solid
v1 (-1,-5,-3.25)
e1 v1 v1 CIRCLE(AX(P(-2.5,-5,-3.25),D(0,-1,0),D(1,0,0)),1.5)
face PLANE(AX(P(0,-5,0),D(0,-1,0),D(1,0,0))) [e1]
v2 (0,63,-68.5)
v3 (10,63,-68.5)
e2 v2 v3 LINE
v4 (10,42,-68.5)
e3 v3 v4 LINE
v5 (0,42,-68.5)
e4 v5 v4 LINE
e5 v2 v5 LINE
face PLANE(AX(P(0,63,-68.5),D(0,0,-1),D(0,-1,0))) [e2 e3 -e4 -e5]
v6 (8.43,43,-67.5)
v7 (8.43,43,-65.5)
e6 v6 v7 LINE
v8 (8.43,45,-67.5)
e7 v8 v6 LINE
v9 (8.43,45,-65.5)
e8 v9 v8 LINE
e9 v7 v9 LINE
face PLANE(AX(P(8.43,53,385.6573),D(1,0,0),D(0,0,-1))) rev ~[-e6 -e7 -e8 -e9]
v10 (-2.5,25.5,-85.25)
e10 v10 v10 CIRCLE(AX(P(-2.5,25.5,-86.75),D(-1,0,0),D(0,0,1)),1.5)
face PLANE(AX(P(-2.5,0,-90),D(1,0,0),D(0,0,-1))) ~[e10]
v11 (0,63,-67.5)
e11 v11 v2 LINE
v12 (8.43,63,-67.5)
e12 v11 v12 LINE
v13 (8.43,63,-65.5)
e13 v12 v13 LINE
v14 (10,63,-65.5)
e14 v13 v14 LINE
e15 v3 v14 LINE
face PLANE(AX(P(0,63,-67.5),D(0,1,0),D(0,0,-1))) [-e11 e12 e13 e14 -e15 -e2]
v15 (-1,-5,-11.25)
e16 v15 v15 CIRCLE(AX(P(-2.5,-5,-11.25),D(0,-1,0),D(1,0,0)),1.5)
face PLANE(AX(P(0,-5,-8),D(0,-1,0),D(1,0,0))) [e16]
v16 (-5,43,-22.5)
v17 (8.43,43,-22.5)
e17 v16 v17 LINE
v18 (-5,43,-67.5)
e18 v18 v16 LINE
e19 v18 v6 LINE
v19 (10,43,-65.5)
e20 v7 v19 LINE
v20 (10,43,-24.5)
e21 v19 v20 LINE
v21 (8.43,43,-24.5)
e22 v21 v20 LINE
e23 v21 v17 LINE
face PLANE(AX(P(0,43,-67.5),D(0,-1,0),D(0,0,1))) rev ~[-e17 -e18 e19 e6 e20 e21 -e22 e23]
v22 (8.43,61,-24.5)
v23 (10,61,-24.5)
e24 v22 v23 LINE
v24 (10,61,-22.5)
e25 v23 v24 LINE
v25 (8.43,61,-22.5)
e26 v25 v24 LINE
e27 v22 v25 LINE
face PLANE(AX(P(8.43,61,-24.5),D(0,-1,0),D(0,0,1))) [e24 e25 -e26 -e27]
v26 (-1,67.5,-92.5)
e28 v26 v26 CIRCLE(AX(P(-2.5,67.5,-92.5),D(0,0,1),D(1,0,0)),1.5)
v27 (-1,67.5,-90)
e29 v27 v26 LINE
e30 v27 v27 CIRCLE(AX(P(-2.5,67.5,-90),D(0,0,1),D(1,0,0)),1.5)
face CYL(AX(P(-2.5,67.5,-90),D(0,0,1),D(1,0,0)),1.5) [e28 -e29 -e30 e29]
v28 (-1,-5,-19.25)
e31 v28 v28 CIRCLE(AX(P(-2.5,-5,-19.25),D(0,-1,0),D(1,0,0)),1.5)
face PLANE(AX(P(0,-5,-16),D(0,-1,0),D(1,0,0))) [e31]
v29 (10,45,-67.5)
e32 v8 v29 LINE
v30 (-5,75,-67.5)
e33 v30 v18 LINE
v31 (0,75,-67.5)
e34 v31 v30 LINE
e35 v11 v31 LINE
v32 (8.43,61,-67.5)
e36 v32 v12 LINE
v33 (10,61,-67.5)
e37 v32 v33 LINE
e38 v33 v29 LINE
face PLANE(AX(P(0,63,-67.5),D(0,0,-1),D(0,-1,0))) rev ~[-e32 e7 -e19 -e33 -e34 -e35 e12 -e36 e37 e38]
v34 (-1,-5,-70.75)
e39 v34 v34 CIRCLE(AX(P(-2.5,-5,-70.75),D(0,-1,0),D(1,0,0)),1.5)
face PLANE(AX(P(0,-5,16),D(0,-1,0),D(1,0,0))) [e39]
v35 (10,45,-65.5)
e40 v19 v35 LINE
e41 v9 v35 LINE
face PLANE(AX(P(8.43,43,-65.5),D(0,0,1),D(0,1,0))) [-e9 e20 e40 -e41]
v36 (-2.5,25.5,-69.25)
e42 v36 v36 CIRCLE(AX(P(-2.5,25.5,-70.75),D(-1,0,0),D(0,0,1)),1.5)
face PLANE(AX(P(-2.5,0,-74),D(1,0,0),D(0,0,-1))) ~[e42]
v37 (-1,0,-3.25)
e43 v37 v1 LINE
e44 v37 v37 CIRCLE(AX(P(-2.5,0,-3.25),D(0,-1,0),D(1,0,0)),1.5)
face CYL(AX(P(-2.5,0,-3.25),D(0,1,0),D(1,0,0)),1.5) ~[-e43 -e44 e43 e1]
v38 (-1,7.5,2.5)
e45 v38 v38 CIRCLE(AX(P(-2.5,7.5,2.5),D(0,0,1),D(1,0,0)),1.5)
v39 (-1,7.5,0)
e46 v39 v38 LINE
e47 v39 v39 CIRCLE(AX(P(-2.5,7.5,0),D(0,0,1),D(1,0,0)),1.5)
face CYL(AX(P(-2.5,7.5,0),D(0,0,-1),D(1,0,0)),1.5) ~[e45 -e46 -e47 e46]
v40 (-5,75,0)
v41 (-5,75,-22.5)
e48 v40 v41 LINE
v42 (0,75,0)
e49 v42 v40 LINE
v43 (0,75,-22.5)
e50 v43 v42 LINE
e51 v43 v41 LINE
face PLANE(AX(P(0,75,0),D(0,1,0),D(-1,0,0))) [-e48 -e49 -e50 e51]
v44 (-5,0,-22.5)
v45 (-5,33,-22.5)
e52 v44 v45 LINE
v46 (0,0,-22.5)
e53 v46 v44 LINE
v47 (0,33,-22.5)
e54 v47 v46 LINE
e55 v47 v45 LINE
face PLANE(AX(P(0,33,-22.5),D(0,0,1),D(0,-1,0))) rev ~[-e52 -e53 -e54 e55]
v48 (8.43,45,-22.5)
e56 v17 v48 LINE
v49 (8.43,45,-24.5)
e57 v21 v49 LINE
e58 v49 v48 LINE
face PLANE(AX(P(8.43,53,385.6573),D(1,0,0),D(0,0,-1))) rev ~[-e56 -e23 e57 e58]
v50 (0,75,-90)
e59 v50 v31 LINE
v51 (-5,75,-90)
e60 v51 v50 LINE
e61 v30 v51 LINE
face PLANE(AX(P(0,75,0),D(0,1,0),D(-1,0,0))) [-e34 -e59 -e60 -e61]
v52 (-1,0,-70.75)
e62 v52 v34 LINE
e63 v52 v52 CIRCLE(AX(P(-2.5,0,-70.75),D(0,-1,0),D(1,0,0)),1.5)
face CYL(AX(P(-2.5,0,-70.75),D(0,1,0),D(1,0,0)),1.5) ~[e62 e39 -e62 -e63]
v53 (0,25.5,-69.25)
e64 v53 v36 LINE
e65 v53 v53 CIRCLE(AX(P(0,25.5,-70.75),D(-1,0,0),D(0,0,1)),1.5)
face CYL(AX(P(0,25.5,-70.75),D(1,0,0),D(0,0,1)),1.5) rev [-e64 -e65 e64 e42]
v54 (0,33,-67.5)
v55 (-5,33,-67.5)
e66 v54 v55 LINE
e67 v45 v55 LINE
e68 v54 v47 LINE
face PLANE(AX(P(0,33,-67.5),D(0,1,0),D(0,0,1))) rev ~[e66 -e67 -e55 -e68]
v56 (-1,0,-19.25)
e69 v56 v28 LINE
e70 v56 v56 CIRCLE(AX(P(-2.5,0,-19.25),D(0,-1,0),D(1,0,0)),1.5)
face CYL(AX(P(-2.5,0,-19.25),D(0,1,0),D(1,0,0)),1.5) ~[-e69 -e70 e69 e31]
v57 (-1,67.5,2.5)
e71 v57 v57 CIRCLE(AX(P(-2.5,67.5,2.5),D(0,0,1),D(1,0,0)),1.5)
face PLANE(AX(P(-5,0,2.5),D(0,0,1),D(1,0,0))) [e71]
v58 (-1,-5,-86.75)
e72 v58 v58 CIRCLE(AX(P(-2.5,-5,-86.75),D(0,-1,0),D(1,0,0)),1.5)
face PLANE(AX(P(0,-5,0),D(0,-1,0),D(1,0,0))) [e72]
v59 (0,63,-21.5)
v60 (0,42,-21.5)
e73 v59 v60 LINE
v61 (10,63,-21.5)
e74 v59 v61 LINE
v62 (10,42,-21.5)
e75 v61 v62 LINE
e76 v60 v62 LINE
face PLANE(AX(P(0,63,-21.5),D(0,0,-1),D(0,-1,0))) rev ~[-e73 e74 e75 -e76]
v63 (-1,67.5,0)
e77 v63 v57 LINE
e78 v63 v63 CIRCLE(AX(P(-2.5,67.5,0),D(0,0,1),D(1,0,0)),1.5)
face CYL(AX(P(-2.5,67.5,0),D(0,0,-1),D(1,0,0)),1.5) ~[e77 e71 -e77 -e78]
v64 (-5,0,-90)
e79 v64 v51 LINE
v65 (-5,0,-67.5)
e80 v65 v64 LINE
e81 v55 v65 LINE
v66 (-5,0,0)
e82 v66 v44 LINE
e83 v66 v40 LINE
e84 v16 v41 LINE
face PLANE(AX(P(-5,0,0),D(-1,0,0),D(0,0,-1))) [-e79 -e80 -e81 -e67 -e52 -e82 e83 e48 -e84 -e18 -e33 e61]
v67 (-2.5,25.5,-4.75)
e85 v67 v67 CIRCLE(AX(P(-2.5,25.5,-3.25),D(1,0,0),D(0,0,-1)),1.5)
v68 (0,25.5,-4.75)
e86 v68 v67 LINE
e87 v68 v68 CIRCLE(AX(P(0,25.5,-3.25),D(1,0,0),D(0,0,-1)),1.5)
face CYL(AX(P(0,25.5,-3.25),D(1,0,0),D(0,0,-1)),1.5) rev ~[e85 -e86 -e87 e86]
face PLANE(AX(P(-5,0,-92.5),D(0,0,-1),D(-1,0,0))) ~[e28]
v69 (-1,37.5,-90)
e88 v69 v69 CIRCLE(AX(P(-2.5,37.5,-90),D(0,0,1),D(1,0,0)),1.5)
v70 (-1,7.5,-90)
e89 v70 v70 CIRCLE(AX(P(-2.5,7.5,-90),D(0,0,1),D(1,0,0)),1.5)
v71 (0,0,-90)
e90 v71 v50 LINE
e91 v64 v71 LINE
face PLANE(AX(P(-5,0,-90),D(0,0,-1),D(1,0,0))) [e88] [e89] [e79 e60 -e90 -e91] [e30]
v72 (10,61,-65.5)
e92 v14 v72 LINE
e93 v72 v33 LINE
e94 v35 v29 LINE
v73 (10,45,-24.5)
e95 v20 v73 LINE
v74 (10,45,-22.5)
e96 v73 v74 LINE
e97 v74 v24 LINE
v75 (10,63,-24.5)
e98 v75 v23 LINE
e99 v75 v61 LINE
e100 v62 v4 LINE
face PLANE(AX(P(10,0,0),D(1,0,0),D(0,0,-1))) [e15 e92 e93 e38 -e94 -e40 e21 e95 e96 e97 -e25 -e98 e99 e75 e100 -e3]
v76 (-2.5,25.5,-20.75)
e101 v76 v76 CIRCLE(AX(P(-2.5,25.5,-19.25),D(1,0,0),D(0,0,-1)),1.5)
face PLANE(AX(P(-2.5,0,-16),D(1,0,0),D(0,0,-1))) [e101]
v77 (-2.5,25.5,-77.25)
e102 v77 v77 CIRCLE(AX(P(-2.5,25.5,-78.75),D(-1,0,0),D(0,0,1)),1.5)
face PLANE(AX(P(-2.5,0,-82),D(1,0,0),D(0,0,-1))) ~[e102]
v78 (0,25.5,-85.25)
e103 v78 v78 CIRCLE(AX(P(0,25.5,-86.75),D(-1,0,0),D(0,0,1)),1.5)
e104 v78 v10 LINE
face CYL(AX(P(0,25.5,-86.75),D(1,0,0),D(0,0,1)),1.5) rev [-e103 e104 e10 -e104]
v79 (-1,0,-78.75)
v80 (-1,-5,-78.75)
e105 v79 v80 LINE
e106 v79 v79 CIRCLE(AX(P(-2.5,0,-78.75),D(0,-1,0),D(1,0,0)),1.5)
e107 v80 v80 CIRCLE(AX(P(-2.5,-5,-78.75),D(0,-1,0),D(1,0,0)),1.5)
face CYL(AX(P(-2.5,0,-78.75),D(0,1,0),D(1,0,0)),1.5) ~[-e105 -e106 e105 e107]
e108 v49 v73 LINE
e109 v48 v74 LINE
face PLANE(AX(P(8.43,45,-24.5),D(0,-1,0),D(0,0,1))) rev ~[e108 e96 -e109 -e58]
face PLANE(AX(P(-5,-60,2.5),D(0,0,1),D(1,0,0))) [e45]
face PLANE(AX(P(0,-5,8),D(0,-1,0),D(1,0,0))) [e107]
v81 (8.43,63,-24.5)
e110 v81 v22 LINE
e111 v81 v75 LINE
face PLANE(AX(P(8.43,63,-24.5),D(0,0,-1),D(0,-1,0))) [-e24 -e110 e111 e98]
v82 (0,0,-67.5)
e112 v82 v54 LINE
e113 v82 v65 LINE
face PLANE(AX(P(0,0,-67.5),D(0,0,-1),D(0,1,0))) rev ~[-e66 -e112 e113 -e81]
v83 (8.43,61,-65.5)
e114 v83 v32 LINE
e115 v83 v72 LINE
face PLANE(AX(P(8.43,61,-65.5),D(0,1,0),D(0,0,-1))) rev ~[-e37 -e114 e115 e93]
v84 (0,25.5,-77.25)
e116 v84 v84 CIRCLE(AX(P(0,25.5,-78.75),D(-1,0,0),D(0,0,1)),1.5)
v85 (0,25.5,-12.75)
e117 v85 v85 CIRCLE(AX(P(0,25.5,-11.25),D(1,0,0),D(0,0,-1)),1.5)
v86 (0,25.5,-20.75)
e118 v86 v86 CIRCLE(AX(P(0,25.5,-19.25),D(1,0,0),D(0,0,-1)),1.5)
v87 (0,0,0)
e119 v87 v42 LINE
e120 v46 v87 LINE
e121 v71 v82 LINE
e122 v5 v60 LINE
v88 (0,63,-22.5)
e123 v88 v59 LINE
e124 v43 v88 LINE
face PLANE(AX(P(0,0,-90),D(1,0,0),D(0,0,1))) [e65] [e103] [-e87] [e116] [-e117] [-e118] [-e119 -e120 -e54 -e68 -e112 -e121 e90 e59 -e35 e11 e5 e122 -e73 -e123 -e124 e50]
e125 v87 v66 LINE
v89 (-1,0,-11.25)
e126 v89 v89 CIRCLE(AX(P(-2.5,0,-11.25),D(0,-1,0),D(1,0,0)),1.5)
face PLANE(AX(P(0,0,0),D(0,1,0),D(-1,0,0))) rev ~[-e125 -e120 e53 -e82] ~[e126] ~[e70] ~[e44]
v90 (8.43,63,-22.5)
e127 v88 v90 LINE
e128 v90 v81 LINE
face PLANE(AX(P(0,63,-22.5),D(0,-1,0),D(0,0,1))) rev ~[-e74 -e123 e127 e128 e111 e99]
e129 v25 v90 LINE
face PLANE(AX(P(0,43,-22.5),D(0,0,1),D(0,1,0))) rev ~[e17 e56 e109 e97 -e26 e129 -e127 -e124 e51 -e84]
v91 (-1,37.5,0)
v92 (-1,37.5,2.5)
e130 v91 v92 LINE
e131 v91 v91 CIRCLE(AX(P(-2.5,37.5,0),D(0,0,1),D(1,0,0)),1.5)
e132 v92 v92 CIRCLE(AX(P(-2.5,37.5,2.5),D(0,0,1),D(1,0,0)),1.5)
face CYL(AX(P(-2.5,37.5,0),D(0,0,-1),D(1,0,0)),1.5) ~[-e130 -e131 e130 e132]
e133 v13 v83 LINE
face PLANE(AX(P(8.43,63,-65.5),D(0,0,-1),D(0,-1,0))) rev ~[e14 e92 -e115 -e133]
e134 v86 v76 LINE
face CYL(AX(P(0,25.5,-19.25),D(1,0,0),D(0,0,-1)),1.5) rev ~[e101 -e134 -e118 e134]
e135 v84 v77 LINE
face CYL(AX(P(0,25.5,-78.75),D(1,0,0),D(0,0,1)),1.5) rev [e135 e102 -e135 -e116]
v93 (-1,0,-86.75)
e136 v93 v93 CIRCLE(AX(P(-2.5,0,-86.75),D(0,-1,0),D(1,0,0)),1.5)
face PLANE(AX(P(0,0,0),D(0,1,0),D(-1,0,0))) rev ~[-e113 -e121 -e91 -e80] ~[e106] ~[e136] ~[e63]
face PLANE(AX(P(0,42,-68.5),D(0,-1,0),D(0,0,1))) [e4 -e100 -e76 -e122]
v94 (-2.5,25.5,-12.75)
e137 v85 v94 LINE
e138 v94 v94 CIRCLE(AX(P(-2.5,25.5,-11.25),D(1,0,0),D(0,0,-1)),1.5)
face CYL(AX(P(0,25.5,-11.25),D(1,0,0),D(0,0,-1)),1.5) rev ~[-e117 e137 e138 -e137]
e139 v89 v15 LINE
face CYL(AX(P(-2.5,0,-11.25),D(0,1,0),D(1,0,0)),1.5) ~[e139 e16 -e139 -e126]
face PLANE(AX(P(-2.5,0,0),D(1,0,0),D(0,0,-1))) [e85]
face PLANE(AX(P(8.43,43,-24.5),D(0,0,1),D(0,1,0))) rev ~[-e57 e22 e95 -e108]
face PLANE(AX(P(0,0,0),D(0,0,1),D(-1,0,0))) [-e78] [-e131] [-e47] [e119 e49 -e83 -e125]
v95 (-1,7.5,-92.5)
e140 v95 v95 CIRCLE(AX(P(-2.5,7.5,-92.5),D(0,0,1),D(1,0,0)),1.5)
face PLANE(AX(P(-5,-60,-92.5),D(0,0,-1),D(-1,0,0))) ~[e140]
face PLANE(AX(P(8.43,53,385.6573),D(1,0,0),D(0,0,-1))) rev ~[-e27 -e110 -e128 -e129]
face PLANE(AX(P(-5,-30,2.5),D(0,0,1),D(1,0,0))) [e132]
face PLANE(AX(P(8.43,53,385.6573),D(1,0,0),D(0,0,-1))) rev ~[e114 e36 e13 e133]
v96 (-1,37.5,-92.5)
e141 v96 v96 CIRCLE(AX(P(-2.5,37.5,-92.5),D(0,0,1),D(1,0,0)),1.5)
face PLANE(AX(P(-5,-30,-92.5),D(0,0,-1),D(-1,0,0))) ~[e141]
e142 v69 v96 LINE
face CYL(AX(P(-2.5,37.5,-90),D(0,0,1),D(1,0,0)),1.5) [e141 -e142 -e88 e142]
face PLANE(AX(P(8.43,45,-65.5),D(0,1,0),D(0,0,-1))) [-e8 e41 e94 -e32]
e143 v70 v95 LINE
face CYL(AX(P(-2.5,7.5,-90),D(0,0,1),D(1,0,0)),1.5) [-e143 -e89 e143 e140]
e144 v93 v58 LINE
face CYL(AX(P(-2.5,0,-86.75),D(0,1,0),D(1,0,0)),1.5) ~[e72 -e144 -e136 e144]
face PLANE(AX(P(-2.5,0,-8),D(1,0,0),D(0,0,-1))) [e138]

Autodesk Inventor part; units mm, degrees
ref_plane "YZ Plane" through (0, 0, 0) normal (1, 0, 0) x (0, 1, 0)
sketch "Sketch1" plane through (0, 0, 0) normal (0, 1, 0) x (-1, 0, 0)
  line L0 (0, 0) -> (5, 0)
  line L1 (5, 0) -> (5, -90)
  line L2 (5, -90) -> (0, -90)
  line L3 (0, -90) -> (0, 0)
  dimension "d0" = 5
  dimension "d1" = 90
extrude "Extrusion1" add sketch "Sketch1" along normal blind 75
sketch "Sketch2" plane through (0, 0, 0) normal (1, 0, 0) x (0, 0, -1)
  line L0 (90, 0) -> (0, 0) projected
  line L1 (22.5, 0) -> (67.5, 0)
  line L2 (67.5, 0) -> (67.5, 33)
  line L3 (67.5, 33) -> (22.5, 33)
  line L4 (22.5, 33) -> (22.5, 0)
  line L5 (0, 0) -> (0, 75) projected
  line L6 (90, 0) -> (90, 75) projected
  line L7 (22.5, 43) -> (67.5, 43)
  line L8 (67.5, 43) -> (67.5, 75)
  line L9 (67.5, 75) -> (22.5, 75)
  line L10 (22.5, 75) -> (22.5, 43)
  line L11 (0, 75) -> (90, 75) projected
  dimension "d4" = 45
  dimension "d5" = 22.5
  dimension "d6" = 22.5
  dimension "d7" = 33
  dimension "d8" = 10
  dimension "d9" = 22.5
  dimension "d10" = 22.5
extrude "Extrusion2" cut sketch "Sketch2" against normal through all contours L0 L4 L3 L2 | L8 L7 L10 L9
sketch "Sketch3" plane through (0, 0, 0) normal (1, 0, 0) x (0, 0, -1)
  line L0 (67.5, 43) -> (22.5, 43) projected
  line L1 (67.5, 63) -> (67.5, 43) projected
  line L2 (22.5, 63) -> (67.5, 63) projected
  line L3 (22.5, 43) -> (22.5, 63) projected
  circle A0 centre (23.5, 44) radius 0.75 projected
  circle A1 centre (23.5, 62) radius 0.75 projected
  circle A2 centre (66.5, 44) radius 0.75 projected
  circle A3 centre (66.5, 62) radius 0.75 projected
  line L4 (42.55, 45.5) -> (42.35, 45.5) projected
  line L5 (42.55, 45.5) -> (42.65, 45.6) projected
  line L6 (44.8, 45.6) -> (42.65, 45.6) projected
  line L7 (44.8, 45.6) -> (44.9, 45.5) projected
  line L8 (45.1, 45.5) -> (44.9, 45.5) projected
  line L9 (45.1, 45.5) -> (45.2, 45.6) projected
  line L10 (47.35, 45.6) -> (45.2, 45.6) projected
  line L11 (47.35, 45.6) -> (47.45, 45.5) projected
  line L12 (47.65, 45.5) -> (47.45, 45.5) projected
  line L13 (47.65, 45.5) -> (47.75, 45.6) projected
  line L14 (49.9, 45.6) -> (47.75, 45.6) projected
  line L15 (49.9, 45.6) -> (50, 45.5) projected
  line L16 (50, 43.2) -> (50, 45.5) projected
  line L17 (50, 43.2) -> (49.9, 43.1) projected
  line L18 (47.75, 43.1) -> (49.9, 43.1) projected
  line L19 (47.75, 43.1) -> (47.65, 43.2) projected
  line L20 (47.45, 43.2) -> (47.65, 43.2) projected
  line L21 (47.45, 43.2) -> (47.35, 43.1) projected
  line L22 (45.2, 43.1) -> (47.35, 43.1) projected
  line L23 (45.2, 43.1) -> (45.1, 43.2) projected
  line L24 (44.9, 43.2) -> (45.1, 43.2) projected
  line L25 (44.9, 43.2) -> (44.8, 43.1) projected
  line L26 (42.65, 43.1) -> (44.8, 43.1) projected
  line L27 (42.65, 43.1) -> (42.55, 43.2) projected
  line L28 (42.35, 43.2) -> (42.55, 43.2) projected
  line L29 (42.35, 43.2) -> (42.25, 43.1) projected
  line L30 (40.1, 43.1) -> (42.25, 43.1) projected
  line L31 (40.1, 43.1) -> (40, 43.2) projected
  line L32 (40, 45.5) -> (40, 43.2) projected
  line L33 (40, 45.5) -> (40.1, 45.6) projected
  line L34 (42.25, 45.6) -> (40.1, 45.6) projected
  line L35 (42.25, 45.6) -> (42.35, 45.5) projected
  line L36 (24, 56.95) -> (24, 56.75) projected
  line L37 (24.1, 56.95) -> (24, 56.95) projected
  line L38 (24.1, 56.75) -> (24.1, 56.95) projected
  line L39 (24, 56.75) -> (24.1, 56.75) projected
  line L40 (28.9, 56.95) -> (28.9, 56.75) projected
  line L41 (29, 56.95) -> (28.9, 56.95) projected
  line L42 (29, 56.75) -> (29, 56.95) projected
  line L43 (28.9, 56.75) -> (29, 56.75) projected
  line L44 (24, 55.8071) -> (24, 55.6071) projected
  line L45 (24.1, 55.8071) -> (24, 55.8071) projected
  line L46 (24.1, 55.6071) -> (24.1, 55.8071) projected
  line L47 (24, 55.6071) -> (24.1, 55.6071) projected
  line L48 (28.9, 55.8071) -> (28.9, 55.6071) projected
  line L49 (29, 55.8071) -> (28.9, 55.8071) projected
  line L50 (29, 55.6071) -> (29, 55.8071) projected
  line L51 (28.9, 55.6071) -> (29, 55.6071) projected
  line L52 (24, 54.6643) -> (24, 54.4643) projected
  line L53 (24.1, 54.6643) -> (24, 54.6643) projected
  line L54 (24.1, 54.4643) -> (24.1, 54.6643) projected
  line L55 (24, 54.4643) -> (24.1, 54.4643) projected
  line L56 (28.9, 54.6643) -> (28.9, 54.4643) projected
  line L57 (29, 54.6643) -> (28.9, 54.6643) projected
  line L58 (29, 54.4643) -> (29, 54.6643) projected
  line L59 (28.9, 54.4643) -> (29, 54.4643) projected
  line L60 (24, 53.5214) -> (24, 53.3214) projected
  line L61 (24.1, 53.5214) -> (24, 53.5214) projected
  line L62 (24.1, 53.3214) -> (24.1, 53.5214) projected
  line L63 (24, 53.3214) -> (24.1, 53.3214) projected
  line L64 (28.9, 53.5214) -> (28.9, 53.3214) projected
  line L65 (29, 53.5214) -> (28.9, 53.5214) projected
  line L66 (29, 53.3214) -> (29, 53.5214) projected
  line L67 (28.9, 53.3214) -> (29, 53.3214) projected
  line L68 (24, 52.3786) -> (24, 52.1786) projected
  line L69 (24.1, 52.3786) -> (24, 52.3786) projected
  line L70 (24.1, 52.1786) -> (24.1, 52.3786) projected
  line L71 (24, 52.1786) -> (24.1, 52.1786) projected
  line L72 (28.9, 52.3786) -> (28.9, 52.1786) projected
  line L73 (29, 52.3786) -> (28.9, 52.3786) projected
  line L74 (29, 52.1786) -> (29, 52.3786) projected
  line L75 (28.9, 52.1786) -> (29, 52.1786) projected
  line L76 (24, 51.2357) -> (24, 51.0357) projected
  line L77 (24.1, 51.2357) -> (24, 51.2357) projected
  line L78 (24.1, 51.0357) -> (24.1, 51.2357) projected
  line L79 (24, 51.0357) -> (24.1, 51.0357) projected
  line L80 (28.9, 51.2357) -> (28.9, 51.0357) projected
  line L81 (29, 51.2357) -> (28.9, 51.2357) projected
  line L82 (29, 51.0357) -> (29, 51.2357) projected
  line L83 (28.9, 51.0357) -> (29, 51.0357) projected
  line L84 (24, 50.0929) -> (24, 49.8929) projected
  line L85 (24.1, 50.0929) -> (24, 50.0929) projected
  line L86 (24.1, 49.8929) -> (24.1, 50.0929) projected
  line L87 (24, 49.8929) -> (24.1, 49.8929) projected
  line L88 (28.9, 50.0929) -> (28.9, 49.8929) projected
  line L89 (29, 50.0929) -> (28.9, 50.0929) projected
  line L90 (29, 49.8929) -> (29, 50.0929) projected
  line L91 (28.9, 49.8929) -> (29, 49.8929) projected
  line L92 (24, 48.95) -> (24, 48.75) projected
  line L93 (24.1, 48.95) -> (24, 48.95) projected
  line L94 (24.1, 48.75) -> (24.1, 48.95) projected
  line L95 (24, 48.75) -> (24.1, 48.75) projected
  line L96 (28.9, 48.95) -> (28.9, 48.75) projected
  line L97 (29, 48.95) -> (28.9, 48.95) projected
  line L98 (29, 48.75) -> (29, 48.95) projected
  line L99 (28.9, 48.75) -> (29, 48.75) projected
  line L100 (40.95, 50.5) -> (41.15, 50.5) projected
  line L101 (40.95, 50.55) -> (40.95, 50.5) projected
  line L102 (41.15, 50.55) -> (40.95, 50.55) projected
  line L103 (41.15, 50.5) -> (41.15, 50.55) projected
  line L104 (41.15, 55.5) -> (40.95, 55.5) projected
  line L105 (41.15, 55.45) -> (41.15, 55.5) projected
  line L106 (40.95, 55.45) -> (41.15, 55.45) projected
  line L107 (40.95, 55.5) -> (40.95, 55.45) projected
  line L108 (42.2667, 50.5) -> (42.4667, 50.5) projected
  line L109 (42.2667, 50.55) -> (42.2667, 50.5) projected
  line L110 (42.4667, 50.55) -> (42.2667, 50.55) projected
  line L111 (42.4667, 50.5) -> (42.4667, 50.55) projected
  line L112 (42.4667, 55.5) -> (42.2667, 55.5) projected
  line L113 (42.4667, 55.45) -> (42.4667, 55.5) projected
  line L114 (42.2667, 55.45) -> (42.4667, 55.45) projected
  line L115 (42.2667, 55.5) -> (42.2667, 55.45) projected
  line L116 (43.5833, 50.5) -> (43.7833, 50.5) projected
  line L117 (43.5833, 50.55) -> (43.5833, 50.5) projected
  line L118 (43.7833, 50.55) -> (43.5833, 50.55) projected
  line L119 (43.7833, 50.5) -> (43.7833, 50.55) projected
  line L120 (43.7833, 55.5) -> (43.5833, 55.5) projected
  line L121 (43.7833, 55.45) -> (43.7833, 55.5) projected
  line L122 (43.5833, 55.45) -> (43.7833, 55.45) projected
  line L123 (43.5833, 55.5) -> (43.5833, 55.45) projected
  line L124 (44.9, 50.5) -> (45.1, 50.5) projected
  line L125 (44.9, 50.55) -> (44.9, 50.5) projected
  line L126 (45.1, 50.55) -> (44.9, 50.55) projected
  line L127 (45.1, 50.5) -> (45.1, 50.55) projected
  line L128 (45.1, 55.5) -> (44.9, 55.5) projected
  line L129 (45.1, 55.45) -> (45.1, 55.5) projected
  line L130 (44.9, 55.45) -> (45.1, 55.45) projected
  line L131 (44.9, 55.5) -> (44.9, 55.45) projected
  line L132 (46.2167, 50.5) -> (46.4167, 50.5) projected
  line L133 (46.2167, 50.55) -> (46.2167, 50.5) projected
  line L134 (46.4167, 50.55) -> (46.2167, 50.55) projected
  line L135 (46.4167, 50.5) -> (46.4167, 50.55) projected
  line L136 (46.4167, 55.5) -> (46.2167, 55.5) projected
  line L137 (46.4167, 55.45) -> (46.4167, 55.5) projected
  line L138 (46.2167, 55.45) -> (46.4167, 55.45) projected
  line L139 (46.2167, 55.5) -> (46.2167, 55.45) projected
  line L140 (47.5333, 50.5) -> (47.7333, 50.5) projected
  line L141 (47.5333, 50.55) -> (47.5333, 50.5) projected
  line L142 (47.7333, 50.55) -> (47.5333, 50.55) projected
  line L143 (47.7333, 50.5) -> (47.7333, 50.55) projected
  line L144 (47.7333, 55.5) -> (47.5333, 55.5) projected
  line L145 (47.7333, 55.45) -> (47.7333, 55.5) projected
  line L146 (47.5333, 55.45) -> (47.7333, 55.45) projected
  line L147 (47.5333, 55.5) -> (47.5333, 55.45) projected
  line L148 (48.85, 50.5) -> (49.05, 50.5) projected
  line L149 (48.85, 50.55) -> (48.85, 50.5) projected
  line L150 (49.05, 50.55) -> (48.85, 50.55) projected
  line L151 (49.05, 50.5) -> (49.05, 50.55) projected
  line L152 (49.05, 55.5) -> (48.85, 55.5) projected
  line L153 (49.05, 55.45) -> (49.05, 55.5) projected
  line L154 (48.85, 55.45) -> (49.05, 55.45) projected
  line L155 (48.85, 55.5) -> (48.85, 55.45) projected
  line L156 (59.1, 50.5) -> (59.3, 50.5) projected
  line L157 (59.1, 50.55) -> (59.1, 50.5) projected
  line L158 (59.3, 50.55) -> (59.1, 50.55) projected
  line L159 (59.3, 50.5) -> (59.3, 50.55) projected
  line L160 (59.3, 55.5) -> (59.1, 55.5) projected
  line L161 (59.3, 55.45) -> (59.3, 55.5) projected
  line L162 (59.1, 55.45) -> (59.3, 55.45) projected
  line L163 (59.1, 55.5) -> (59.1, 55.45) projected
  line L164 (60.4167, 50.5) -> (60.6167, 50.5) projected
  line L165 (60.4167, 50.55) -> (60.4167, 50.5) projected
  line L166 (60.6167, 50.55) -> (60.4167, 50.55) projected
  line L167 (60.6167, 50.5) -> (60.6167, 50.55) projected
  line L168 (60.6167, 55.5) -> (60.4167, 55.5) projected
  line L169 (60.6167, 55.45) -> (60.6167, 55.5) projected
  line L170 (60.4167, 55.45) -> (60.6167, 55.45) projected
  line L171 (60.4167, 55.5) -> (60.4167, 55.45) projected
  line L172 (61.7333, 50.5) -> (61.9333, 50.5) projected
  line L173 (61.7333, 50.55) -> (61.7333, 50.5) projected
  line L174 (61.9333, 50.55) -> (61.7333, 50.55) projected
  line L175 (61.9333, 50.5) -> (61.9333, 50.55) projected
  line L176 (61.9333, 55.5) -> (61.7333, 55.5) projected
  line L177 (61.9333, 55.45) -> (61.9333, 55.5) projected
  line L178 (61.7333, 55.45) -> (61.9333, 55.45) projected
  line L179 (61.7333, 55.5) -> (61.7333, 55.45) projected
  line L180 (63.05, 50.5) -> (63.25, 50.5) projected
  line L181 (63.05, 50.55) -> (63.05, 50.5) projected
  line L182 (63.25, 50.55) -> (63.05, 50.55) projected
  line L183 (63.25, 50.5) -> (63.25, 50.55) projected
  line L184 (63.25, 55.5) -> (63.05, 55.5) projected
  line L185 (63.25, 55.45) -> (63.25, 55.5) projected
  line L186 (63.05, 55.45) -> (63.25, 55.45) projected
  line L187 (63.05, 55.5) -> (63.05, 55.45) projected
  line L188 (64.3667, 50.5) -> (64.5667, 50.5) projected
  line L189 (64.3667, 50.55) -> (64.3667, 50.5) projected
  line L190 (64.5667, 50.55) -> (64.3667, 50.55) projected
  line L191 (64.5667, 50.5) -> (64.5667, 50.55) projected
  line L192 (64.5667, 55.5) -> (64.3667, 55.5) projected
  line L193 (64.5667, 55.45) -> (64.5667, 55.5) projected
  line L194 (64.3667, 55.45) -> (64.5667, 55.45) projected
  line L195 (64.3667, 55.5) -> (64.3667, 55.45) projected
  line L196 (65.6833, 50.5) -> (65.8833, 50.5) projected
  line L197 (65.6833, 50.55) -> (65.6833, 50.5) projected
  line L198 (65.8833, 50.55) -> (65.6833, 50.55) projected
  line L199 (65.8833, 50.5) -> (65.8833, 50.55) projected
  line L200 (65.8833, 55.5) -> (65.6833, 55.5) projected
  line L201 (65.8833, 55.45) -> (65.8833, 55.5) projected
  line L202 (65.6833, 55.45) -> (65.8833, 55.45) projected
  line L203 (65.6833, 55.5) -> (65.6833, 55.45) projected
  line L204 (67, 50.5) -> (67.2, 50.5) projected
  line L205 (67, 50.55) -> (67, 50.5) projected
  line L206 (67.2, 50.55) -> (67, 50.55) projected
  line L207 (67.2, 50.5) -> (67.2, 50.55) projected
  line L208 (67.2, 55.5) -> (67, 55.5) projected
  line L209 (67.2, 55.45) -> (67.2, 55.5) projected
  line L210 (67, 55.45) -> (67.2, 55.45) projected
  line L211 (67, 55.5) -> (67, 55.45) projected
  line L212 (58.9, 55) -> (58.9, 51) projected
  line L213 (67.4, 55) -> (58.9, 55) projected
  line L214 (67.4, 51) -> (67.4, 55) projected
  line L215 (58.9, 51) -> (67.4, 51) projected
  line L216 (49.25, 51) -> (49.25, 55) projected
  line L217 (40.75, 51) -> (49.25, 51) projected
  line L218 (40.75, 55) -> (40.75, 51) projected
  line L219 (49.25, 55) -> (40.75, 55) projected
  line L220 (24.5, 57.75) -> (24.5, 48.25) projected
  line L221 (28.5, 57.75) -> (24.5, 57.75) projected
  line L222 (28.5, 48.25) -> (28.5, 57.75) projected
  line L223 (24.5, 48.25) -> (28.5, 48.25) projected
  line L224 (22.5, 63) -> (21.5, 63)
  line L225 (21.5, 63) -> (21.5, 42)
  line L226 (21.5, 42) -> (22.5, 42)
  line L227 (22.5, 43) -> (22.5, 63)
  line L228 (67.5, 63) -> (68.5, 63)
  line L229 (68.5, 63) -> (68.5, 42)
  line L230 (68.5, 42) -> (67.5, 42)
  line L231 (67.5, 43) -> (67.5, 63)
  line L232 (67.5, 75) -> (67.5, 43) projected
  line L233 (22.5, 42) -> (67.5, 42)
  line L234 (67.5, 43) -> (22.5, 43)
  point P0 (0, 0)
  dimension "d13" = 1
  dimension "d14" = 21
  dimension "d15" = 1
  dimension "d17" = 47
extrude "Extrusion3" add sketch "Sketch3" along normal blind 10 contours L1 L228 L229 L230 L233 L226 L225 L224 L3 L0
ref_plane "Work Plane1" through (8.43, 53, 385.6573) normal (1, 0, 0) x (0, 0, -1)
sketch "Sketch4" plane through (8.43, 53, 385.6573) normal (1, 0, 0) x (0, 0, -1)
  line L0 (408.1573, -10) -> (408.1573, 10) projected
  line L1 (408.1573, 10) -> (410.1573, 10)
  line L2 (410.1573, 10) -> (410.1573, 8)
  line L3 (410.1573, 8) -> (408.1573, 8)
  line L4 (408.1573, 8) -> (408.1573, 10)
  line L5 (453.1573, -10) -> (408.1573, -10) projected
  line L6 (408.1573, -10) -> (410.1573, -10)
  line L7 (410.1573, -10) -> (410.1573, -8)
  line L8 (410.1573, -8) -> (408.1573, -8)
  line L9 (408.1573, -8) -> (408.1573, -10)
  line L10 (234.5466, 10) -> (234.5466, -10) projected
  line L11 (453.1573, -10) -> (451.1573, -10)
  line L12 (451.1573, -10) -> (451.1573, -8)
  line L13 (451.1573, -8) -> (453.1573, -8)
  line L14 (453.1573, -8) -> (453.1573, -10)
  line L15 (453.1573, 10) -> (451.1573, 10)
  line L16 (451.1573, 10) -> (451.1573, 8)
  line L17 (451.1573, 8) -> (453.1573, 8)
  line L18 (453.1573, 8) -> (453.1573, 10)
  point P0 (385.6573, -53)
  dimension "d20" = 2
  dimension "d21" = 2
  dimension "d22" = 2
  dimension "d23" = 2
  dimension "d24" = 2
  dimension "d25" = 2
  dimension "d26" = 2
  dimension "d27" = 2
extrude "Extrusion4" add sketch "Sketch4" along normal up to surface (1.57 mm away)
sketch "Sketch5" plane through (0, 0, 0) normal (0, -1, 0) x (1, 0, 0)
  circle A0 centre (-2.5, -3.25) radius 1.5
  line L0 (-5, 0) -> (-5, -22.5) projected
  line L1 (0, 0) -> (-5, 0) projected
  line L2 (-5, -22.5) -> (0, -22.5) projected
  dimension "d30" = 3
  dimension "d31" = 2.5
  dimension "d32" = 3.25
extrude "Extrusion5" add sketch "Sketch5" along normal blind 5
pattern_linear "Rectangular Pattern1" count 3 spacing 8 along (0, 0, -1) of "Extrusion5"
sketch "Sketch7" plane through (0, 0, 0) normal (0, -1, 0) x (1, 0, 0)
  circle A0 centre (-2.5, -86.75) radius 1.5
  line L0 (-5, -67.5) -> (-5, -90) projected
  line L1 (-5, -90) -> (0, -90) projected
  point P0 (0, 0)
  dimension "d40" = 3
  dimension "d41" = 2.5
  dimension "d42" = 3.25
extrude "Extrusion6" add sketch "Sketch7" along normal blind 5
pattern_linear "Rectangular Pattern2" count 3 spacing 8 along (0, 0, 1) of "Extrusion6"
sketch "Sketch8" plane through (0, 0, 0) normal (1, 0, 0) x (0, 0, -1)
  line L0 (90, 0) -> (90, 75) projected
  line L1 (0, 0) -> (0, 75) projected
  line L2 (90, 23) -> (0, 23)
  line L3 (0, 23) -> (0, 28)
  line L4 (0, 28) -> (90, 28)
  line L5 (90, 28) -> (90, 23)
  line L6 (22.5, 0) -> (0, 0) projected
  circle A0 centre (3.25, 25.5) radius 1.5
  dimension "d48" = 5
  dimension "d49" = 23
  dimension "d50" = 3
  dimension "d51" = 2.5
  dimension "d52" = 3.25
extrude "Extrusion7" cut sketch "Sketch8" against normal blind 2.5 contours A0
ref_plane "Work Plane2" through (-5, 0, -45) normal (0, 0, 1) x (1, 0, 0)
pattern_linear "Rectangular Pattern3" count 3 spacing 8 along (0, 0, -1) of "Extrusion7"
mirror "Mirror1" about plane through (-5, 0, -45) normal (0, 0, 1) of "Extrusion7", "Rectangular Pattern3"
sketch "Sketch9" plane through (-5, 0, 0) normal (0, 0, 1) x (1, 0, 0)
  circle A0 centre (2.5, 67.5) radius 1.5
  line L0 (5, 0) -> (5, 75) projected
  line L1 (0, 75) -> (5, 75) projected
  dimension "d59" = 3
  dimension "d60" = 2.5
  dimension "d61" = 7.5
extrude "Extrusion8" add sketch "Sketch9" along normal blind 2.5
pattern_linear "Rectangular Pattern4" count 3 spacing 30 along (0, -1, 0) of "Extrusion8"
mirror "Mirror2" about plane through (-5, 0, -45) normal (0, 0, 1) of "Extrusion8", "Rectangular Pattern4"
equation "\"d5\" = d6"
equation "\"d10\" = d9"
properties part number "Side Panels V2"
